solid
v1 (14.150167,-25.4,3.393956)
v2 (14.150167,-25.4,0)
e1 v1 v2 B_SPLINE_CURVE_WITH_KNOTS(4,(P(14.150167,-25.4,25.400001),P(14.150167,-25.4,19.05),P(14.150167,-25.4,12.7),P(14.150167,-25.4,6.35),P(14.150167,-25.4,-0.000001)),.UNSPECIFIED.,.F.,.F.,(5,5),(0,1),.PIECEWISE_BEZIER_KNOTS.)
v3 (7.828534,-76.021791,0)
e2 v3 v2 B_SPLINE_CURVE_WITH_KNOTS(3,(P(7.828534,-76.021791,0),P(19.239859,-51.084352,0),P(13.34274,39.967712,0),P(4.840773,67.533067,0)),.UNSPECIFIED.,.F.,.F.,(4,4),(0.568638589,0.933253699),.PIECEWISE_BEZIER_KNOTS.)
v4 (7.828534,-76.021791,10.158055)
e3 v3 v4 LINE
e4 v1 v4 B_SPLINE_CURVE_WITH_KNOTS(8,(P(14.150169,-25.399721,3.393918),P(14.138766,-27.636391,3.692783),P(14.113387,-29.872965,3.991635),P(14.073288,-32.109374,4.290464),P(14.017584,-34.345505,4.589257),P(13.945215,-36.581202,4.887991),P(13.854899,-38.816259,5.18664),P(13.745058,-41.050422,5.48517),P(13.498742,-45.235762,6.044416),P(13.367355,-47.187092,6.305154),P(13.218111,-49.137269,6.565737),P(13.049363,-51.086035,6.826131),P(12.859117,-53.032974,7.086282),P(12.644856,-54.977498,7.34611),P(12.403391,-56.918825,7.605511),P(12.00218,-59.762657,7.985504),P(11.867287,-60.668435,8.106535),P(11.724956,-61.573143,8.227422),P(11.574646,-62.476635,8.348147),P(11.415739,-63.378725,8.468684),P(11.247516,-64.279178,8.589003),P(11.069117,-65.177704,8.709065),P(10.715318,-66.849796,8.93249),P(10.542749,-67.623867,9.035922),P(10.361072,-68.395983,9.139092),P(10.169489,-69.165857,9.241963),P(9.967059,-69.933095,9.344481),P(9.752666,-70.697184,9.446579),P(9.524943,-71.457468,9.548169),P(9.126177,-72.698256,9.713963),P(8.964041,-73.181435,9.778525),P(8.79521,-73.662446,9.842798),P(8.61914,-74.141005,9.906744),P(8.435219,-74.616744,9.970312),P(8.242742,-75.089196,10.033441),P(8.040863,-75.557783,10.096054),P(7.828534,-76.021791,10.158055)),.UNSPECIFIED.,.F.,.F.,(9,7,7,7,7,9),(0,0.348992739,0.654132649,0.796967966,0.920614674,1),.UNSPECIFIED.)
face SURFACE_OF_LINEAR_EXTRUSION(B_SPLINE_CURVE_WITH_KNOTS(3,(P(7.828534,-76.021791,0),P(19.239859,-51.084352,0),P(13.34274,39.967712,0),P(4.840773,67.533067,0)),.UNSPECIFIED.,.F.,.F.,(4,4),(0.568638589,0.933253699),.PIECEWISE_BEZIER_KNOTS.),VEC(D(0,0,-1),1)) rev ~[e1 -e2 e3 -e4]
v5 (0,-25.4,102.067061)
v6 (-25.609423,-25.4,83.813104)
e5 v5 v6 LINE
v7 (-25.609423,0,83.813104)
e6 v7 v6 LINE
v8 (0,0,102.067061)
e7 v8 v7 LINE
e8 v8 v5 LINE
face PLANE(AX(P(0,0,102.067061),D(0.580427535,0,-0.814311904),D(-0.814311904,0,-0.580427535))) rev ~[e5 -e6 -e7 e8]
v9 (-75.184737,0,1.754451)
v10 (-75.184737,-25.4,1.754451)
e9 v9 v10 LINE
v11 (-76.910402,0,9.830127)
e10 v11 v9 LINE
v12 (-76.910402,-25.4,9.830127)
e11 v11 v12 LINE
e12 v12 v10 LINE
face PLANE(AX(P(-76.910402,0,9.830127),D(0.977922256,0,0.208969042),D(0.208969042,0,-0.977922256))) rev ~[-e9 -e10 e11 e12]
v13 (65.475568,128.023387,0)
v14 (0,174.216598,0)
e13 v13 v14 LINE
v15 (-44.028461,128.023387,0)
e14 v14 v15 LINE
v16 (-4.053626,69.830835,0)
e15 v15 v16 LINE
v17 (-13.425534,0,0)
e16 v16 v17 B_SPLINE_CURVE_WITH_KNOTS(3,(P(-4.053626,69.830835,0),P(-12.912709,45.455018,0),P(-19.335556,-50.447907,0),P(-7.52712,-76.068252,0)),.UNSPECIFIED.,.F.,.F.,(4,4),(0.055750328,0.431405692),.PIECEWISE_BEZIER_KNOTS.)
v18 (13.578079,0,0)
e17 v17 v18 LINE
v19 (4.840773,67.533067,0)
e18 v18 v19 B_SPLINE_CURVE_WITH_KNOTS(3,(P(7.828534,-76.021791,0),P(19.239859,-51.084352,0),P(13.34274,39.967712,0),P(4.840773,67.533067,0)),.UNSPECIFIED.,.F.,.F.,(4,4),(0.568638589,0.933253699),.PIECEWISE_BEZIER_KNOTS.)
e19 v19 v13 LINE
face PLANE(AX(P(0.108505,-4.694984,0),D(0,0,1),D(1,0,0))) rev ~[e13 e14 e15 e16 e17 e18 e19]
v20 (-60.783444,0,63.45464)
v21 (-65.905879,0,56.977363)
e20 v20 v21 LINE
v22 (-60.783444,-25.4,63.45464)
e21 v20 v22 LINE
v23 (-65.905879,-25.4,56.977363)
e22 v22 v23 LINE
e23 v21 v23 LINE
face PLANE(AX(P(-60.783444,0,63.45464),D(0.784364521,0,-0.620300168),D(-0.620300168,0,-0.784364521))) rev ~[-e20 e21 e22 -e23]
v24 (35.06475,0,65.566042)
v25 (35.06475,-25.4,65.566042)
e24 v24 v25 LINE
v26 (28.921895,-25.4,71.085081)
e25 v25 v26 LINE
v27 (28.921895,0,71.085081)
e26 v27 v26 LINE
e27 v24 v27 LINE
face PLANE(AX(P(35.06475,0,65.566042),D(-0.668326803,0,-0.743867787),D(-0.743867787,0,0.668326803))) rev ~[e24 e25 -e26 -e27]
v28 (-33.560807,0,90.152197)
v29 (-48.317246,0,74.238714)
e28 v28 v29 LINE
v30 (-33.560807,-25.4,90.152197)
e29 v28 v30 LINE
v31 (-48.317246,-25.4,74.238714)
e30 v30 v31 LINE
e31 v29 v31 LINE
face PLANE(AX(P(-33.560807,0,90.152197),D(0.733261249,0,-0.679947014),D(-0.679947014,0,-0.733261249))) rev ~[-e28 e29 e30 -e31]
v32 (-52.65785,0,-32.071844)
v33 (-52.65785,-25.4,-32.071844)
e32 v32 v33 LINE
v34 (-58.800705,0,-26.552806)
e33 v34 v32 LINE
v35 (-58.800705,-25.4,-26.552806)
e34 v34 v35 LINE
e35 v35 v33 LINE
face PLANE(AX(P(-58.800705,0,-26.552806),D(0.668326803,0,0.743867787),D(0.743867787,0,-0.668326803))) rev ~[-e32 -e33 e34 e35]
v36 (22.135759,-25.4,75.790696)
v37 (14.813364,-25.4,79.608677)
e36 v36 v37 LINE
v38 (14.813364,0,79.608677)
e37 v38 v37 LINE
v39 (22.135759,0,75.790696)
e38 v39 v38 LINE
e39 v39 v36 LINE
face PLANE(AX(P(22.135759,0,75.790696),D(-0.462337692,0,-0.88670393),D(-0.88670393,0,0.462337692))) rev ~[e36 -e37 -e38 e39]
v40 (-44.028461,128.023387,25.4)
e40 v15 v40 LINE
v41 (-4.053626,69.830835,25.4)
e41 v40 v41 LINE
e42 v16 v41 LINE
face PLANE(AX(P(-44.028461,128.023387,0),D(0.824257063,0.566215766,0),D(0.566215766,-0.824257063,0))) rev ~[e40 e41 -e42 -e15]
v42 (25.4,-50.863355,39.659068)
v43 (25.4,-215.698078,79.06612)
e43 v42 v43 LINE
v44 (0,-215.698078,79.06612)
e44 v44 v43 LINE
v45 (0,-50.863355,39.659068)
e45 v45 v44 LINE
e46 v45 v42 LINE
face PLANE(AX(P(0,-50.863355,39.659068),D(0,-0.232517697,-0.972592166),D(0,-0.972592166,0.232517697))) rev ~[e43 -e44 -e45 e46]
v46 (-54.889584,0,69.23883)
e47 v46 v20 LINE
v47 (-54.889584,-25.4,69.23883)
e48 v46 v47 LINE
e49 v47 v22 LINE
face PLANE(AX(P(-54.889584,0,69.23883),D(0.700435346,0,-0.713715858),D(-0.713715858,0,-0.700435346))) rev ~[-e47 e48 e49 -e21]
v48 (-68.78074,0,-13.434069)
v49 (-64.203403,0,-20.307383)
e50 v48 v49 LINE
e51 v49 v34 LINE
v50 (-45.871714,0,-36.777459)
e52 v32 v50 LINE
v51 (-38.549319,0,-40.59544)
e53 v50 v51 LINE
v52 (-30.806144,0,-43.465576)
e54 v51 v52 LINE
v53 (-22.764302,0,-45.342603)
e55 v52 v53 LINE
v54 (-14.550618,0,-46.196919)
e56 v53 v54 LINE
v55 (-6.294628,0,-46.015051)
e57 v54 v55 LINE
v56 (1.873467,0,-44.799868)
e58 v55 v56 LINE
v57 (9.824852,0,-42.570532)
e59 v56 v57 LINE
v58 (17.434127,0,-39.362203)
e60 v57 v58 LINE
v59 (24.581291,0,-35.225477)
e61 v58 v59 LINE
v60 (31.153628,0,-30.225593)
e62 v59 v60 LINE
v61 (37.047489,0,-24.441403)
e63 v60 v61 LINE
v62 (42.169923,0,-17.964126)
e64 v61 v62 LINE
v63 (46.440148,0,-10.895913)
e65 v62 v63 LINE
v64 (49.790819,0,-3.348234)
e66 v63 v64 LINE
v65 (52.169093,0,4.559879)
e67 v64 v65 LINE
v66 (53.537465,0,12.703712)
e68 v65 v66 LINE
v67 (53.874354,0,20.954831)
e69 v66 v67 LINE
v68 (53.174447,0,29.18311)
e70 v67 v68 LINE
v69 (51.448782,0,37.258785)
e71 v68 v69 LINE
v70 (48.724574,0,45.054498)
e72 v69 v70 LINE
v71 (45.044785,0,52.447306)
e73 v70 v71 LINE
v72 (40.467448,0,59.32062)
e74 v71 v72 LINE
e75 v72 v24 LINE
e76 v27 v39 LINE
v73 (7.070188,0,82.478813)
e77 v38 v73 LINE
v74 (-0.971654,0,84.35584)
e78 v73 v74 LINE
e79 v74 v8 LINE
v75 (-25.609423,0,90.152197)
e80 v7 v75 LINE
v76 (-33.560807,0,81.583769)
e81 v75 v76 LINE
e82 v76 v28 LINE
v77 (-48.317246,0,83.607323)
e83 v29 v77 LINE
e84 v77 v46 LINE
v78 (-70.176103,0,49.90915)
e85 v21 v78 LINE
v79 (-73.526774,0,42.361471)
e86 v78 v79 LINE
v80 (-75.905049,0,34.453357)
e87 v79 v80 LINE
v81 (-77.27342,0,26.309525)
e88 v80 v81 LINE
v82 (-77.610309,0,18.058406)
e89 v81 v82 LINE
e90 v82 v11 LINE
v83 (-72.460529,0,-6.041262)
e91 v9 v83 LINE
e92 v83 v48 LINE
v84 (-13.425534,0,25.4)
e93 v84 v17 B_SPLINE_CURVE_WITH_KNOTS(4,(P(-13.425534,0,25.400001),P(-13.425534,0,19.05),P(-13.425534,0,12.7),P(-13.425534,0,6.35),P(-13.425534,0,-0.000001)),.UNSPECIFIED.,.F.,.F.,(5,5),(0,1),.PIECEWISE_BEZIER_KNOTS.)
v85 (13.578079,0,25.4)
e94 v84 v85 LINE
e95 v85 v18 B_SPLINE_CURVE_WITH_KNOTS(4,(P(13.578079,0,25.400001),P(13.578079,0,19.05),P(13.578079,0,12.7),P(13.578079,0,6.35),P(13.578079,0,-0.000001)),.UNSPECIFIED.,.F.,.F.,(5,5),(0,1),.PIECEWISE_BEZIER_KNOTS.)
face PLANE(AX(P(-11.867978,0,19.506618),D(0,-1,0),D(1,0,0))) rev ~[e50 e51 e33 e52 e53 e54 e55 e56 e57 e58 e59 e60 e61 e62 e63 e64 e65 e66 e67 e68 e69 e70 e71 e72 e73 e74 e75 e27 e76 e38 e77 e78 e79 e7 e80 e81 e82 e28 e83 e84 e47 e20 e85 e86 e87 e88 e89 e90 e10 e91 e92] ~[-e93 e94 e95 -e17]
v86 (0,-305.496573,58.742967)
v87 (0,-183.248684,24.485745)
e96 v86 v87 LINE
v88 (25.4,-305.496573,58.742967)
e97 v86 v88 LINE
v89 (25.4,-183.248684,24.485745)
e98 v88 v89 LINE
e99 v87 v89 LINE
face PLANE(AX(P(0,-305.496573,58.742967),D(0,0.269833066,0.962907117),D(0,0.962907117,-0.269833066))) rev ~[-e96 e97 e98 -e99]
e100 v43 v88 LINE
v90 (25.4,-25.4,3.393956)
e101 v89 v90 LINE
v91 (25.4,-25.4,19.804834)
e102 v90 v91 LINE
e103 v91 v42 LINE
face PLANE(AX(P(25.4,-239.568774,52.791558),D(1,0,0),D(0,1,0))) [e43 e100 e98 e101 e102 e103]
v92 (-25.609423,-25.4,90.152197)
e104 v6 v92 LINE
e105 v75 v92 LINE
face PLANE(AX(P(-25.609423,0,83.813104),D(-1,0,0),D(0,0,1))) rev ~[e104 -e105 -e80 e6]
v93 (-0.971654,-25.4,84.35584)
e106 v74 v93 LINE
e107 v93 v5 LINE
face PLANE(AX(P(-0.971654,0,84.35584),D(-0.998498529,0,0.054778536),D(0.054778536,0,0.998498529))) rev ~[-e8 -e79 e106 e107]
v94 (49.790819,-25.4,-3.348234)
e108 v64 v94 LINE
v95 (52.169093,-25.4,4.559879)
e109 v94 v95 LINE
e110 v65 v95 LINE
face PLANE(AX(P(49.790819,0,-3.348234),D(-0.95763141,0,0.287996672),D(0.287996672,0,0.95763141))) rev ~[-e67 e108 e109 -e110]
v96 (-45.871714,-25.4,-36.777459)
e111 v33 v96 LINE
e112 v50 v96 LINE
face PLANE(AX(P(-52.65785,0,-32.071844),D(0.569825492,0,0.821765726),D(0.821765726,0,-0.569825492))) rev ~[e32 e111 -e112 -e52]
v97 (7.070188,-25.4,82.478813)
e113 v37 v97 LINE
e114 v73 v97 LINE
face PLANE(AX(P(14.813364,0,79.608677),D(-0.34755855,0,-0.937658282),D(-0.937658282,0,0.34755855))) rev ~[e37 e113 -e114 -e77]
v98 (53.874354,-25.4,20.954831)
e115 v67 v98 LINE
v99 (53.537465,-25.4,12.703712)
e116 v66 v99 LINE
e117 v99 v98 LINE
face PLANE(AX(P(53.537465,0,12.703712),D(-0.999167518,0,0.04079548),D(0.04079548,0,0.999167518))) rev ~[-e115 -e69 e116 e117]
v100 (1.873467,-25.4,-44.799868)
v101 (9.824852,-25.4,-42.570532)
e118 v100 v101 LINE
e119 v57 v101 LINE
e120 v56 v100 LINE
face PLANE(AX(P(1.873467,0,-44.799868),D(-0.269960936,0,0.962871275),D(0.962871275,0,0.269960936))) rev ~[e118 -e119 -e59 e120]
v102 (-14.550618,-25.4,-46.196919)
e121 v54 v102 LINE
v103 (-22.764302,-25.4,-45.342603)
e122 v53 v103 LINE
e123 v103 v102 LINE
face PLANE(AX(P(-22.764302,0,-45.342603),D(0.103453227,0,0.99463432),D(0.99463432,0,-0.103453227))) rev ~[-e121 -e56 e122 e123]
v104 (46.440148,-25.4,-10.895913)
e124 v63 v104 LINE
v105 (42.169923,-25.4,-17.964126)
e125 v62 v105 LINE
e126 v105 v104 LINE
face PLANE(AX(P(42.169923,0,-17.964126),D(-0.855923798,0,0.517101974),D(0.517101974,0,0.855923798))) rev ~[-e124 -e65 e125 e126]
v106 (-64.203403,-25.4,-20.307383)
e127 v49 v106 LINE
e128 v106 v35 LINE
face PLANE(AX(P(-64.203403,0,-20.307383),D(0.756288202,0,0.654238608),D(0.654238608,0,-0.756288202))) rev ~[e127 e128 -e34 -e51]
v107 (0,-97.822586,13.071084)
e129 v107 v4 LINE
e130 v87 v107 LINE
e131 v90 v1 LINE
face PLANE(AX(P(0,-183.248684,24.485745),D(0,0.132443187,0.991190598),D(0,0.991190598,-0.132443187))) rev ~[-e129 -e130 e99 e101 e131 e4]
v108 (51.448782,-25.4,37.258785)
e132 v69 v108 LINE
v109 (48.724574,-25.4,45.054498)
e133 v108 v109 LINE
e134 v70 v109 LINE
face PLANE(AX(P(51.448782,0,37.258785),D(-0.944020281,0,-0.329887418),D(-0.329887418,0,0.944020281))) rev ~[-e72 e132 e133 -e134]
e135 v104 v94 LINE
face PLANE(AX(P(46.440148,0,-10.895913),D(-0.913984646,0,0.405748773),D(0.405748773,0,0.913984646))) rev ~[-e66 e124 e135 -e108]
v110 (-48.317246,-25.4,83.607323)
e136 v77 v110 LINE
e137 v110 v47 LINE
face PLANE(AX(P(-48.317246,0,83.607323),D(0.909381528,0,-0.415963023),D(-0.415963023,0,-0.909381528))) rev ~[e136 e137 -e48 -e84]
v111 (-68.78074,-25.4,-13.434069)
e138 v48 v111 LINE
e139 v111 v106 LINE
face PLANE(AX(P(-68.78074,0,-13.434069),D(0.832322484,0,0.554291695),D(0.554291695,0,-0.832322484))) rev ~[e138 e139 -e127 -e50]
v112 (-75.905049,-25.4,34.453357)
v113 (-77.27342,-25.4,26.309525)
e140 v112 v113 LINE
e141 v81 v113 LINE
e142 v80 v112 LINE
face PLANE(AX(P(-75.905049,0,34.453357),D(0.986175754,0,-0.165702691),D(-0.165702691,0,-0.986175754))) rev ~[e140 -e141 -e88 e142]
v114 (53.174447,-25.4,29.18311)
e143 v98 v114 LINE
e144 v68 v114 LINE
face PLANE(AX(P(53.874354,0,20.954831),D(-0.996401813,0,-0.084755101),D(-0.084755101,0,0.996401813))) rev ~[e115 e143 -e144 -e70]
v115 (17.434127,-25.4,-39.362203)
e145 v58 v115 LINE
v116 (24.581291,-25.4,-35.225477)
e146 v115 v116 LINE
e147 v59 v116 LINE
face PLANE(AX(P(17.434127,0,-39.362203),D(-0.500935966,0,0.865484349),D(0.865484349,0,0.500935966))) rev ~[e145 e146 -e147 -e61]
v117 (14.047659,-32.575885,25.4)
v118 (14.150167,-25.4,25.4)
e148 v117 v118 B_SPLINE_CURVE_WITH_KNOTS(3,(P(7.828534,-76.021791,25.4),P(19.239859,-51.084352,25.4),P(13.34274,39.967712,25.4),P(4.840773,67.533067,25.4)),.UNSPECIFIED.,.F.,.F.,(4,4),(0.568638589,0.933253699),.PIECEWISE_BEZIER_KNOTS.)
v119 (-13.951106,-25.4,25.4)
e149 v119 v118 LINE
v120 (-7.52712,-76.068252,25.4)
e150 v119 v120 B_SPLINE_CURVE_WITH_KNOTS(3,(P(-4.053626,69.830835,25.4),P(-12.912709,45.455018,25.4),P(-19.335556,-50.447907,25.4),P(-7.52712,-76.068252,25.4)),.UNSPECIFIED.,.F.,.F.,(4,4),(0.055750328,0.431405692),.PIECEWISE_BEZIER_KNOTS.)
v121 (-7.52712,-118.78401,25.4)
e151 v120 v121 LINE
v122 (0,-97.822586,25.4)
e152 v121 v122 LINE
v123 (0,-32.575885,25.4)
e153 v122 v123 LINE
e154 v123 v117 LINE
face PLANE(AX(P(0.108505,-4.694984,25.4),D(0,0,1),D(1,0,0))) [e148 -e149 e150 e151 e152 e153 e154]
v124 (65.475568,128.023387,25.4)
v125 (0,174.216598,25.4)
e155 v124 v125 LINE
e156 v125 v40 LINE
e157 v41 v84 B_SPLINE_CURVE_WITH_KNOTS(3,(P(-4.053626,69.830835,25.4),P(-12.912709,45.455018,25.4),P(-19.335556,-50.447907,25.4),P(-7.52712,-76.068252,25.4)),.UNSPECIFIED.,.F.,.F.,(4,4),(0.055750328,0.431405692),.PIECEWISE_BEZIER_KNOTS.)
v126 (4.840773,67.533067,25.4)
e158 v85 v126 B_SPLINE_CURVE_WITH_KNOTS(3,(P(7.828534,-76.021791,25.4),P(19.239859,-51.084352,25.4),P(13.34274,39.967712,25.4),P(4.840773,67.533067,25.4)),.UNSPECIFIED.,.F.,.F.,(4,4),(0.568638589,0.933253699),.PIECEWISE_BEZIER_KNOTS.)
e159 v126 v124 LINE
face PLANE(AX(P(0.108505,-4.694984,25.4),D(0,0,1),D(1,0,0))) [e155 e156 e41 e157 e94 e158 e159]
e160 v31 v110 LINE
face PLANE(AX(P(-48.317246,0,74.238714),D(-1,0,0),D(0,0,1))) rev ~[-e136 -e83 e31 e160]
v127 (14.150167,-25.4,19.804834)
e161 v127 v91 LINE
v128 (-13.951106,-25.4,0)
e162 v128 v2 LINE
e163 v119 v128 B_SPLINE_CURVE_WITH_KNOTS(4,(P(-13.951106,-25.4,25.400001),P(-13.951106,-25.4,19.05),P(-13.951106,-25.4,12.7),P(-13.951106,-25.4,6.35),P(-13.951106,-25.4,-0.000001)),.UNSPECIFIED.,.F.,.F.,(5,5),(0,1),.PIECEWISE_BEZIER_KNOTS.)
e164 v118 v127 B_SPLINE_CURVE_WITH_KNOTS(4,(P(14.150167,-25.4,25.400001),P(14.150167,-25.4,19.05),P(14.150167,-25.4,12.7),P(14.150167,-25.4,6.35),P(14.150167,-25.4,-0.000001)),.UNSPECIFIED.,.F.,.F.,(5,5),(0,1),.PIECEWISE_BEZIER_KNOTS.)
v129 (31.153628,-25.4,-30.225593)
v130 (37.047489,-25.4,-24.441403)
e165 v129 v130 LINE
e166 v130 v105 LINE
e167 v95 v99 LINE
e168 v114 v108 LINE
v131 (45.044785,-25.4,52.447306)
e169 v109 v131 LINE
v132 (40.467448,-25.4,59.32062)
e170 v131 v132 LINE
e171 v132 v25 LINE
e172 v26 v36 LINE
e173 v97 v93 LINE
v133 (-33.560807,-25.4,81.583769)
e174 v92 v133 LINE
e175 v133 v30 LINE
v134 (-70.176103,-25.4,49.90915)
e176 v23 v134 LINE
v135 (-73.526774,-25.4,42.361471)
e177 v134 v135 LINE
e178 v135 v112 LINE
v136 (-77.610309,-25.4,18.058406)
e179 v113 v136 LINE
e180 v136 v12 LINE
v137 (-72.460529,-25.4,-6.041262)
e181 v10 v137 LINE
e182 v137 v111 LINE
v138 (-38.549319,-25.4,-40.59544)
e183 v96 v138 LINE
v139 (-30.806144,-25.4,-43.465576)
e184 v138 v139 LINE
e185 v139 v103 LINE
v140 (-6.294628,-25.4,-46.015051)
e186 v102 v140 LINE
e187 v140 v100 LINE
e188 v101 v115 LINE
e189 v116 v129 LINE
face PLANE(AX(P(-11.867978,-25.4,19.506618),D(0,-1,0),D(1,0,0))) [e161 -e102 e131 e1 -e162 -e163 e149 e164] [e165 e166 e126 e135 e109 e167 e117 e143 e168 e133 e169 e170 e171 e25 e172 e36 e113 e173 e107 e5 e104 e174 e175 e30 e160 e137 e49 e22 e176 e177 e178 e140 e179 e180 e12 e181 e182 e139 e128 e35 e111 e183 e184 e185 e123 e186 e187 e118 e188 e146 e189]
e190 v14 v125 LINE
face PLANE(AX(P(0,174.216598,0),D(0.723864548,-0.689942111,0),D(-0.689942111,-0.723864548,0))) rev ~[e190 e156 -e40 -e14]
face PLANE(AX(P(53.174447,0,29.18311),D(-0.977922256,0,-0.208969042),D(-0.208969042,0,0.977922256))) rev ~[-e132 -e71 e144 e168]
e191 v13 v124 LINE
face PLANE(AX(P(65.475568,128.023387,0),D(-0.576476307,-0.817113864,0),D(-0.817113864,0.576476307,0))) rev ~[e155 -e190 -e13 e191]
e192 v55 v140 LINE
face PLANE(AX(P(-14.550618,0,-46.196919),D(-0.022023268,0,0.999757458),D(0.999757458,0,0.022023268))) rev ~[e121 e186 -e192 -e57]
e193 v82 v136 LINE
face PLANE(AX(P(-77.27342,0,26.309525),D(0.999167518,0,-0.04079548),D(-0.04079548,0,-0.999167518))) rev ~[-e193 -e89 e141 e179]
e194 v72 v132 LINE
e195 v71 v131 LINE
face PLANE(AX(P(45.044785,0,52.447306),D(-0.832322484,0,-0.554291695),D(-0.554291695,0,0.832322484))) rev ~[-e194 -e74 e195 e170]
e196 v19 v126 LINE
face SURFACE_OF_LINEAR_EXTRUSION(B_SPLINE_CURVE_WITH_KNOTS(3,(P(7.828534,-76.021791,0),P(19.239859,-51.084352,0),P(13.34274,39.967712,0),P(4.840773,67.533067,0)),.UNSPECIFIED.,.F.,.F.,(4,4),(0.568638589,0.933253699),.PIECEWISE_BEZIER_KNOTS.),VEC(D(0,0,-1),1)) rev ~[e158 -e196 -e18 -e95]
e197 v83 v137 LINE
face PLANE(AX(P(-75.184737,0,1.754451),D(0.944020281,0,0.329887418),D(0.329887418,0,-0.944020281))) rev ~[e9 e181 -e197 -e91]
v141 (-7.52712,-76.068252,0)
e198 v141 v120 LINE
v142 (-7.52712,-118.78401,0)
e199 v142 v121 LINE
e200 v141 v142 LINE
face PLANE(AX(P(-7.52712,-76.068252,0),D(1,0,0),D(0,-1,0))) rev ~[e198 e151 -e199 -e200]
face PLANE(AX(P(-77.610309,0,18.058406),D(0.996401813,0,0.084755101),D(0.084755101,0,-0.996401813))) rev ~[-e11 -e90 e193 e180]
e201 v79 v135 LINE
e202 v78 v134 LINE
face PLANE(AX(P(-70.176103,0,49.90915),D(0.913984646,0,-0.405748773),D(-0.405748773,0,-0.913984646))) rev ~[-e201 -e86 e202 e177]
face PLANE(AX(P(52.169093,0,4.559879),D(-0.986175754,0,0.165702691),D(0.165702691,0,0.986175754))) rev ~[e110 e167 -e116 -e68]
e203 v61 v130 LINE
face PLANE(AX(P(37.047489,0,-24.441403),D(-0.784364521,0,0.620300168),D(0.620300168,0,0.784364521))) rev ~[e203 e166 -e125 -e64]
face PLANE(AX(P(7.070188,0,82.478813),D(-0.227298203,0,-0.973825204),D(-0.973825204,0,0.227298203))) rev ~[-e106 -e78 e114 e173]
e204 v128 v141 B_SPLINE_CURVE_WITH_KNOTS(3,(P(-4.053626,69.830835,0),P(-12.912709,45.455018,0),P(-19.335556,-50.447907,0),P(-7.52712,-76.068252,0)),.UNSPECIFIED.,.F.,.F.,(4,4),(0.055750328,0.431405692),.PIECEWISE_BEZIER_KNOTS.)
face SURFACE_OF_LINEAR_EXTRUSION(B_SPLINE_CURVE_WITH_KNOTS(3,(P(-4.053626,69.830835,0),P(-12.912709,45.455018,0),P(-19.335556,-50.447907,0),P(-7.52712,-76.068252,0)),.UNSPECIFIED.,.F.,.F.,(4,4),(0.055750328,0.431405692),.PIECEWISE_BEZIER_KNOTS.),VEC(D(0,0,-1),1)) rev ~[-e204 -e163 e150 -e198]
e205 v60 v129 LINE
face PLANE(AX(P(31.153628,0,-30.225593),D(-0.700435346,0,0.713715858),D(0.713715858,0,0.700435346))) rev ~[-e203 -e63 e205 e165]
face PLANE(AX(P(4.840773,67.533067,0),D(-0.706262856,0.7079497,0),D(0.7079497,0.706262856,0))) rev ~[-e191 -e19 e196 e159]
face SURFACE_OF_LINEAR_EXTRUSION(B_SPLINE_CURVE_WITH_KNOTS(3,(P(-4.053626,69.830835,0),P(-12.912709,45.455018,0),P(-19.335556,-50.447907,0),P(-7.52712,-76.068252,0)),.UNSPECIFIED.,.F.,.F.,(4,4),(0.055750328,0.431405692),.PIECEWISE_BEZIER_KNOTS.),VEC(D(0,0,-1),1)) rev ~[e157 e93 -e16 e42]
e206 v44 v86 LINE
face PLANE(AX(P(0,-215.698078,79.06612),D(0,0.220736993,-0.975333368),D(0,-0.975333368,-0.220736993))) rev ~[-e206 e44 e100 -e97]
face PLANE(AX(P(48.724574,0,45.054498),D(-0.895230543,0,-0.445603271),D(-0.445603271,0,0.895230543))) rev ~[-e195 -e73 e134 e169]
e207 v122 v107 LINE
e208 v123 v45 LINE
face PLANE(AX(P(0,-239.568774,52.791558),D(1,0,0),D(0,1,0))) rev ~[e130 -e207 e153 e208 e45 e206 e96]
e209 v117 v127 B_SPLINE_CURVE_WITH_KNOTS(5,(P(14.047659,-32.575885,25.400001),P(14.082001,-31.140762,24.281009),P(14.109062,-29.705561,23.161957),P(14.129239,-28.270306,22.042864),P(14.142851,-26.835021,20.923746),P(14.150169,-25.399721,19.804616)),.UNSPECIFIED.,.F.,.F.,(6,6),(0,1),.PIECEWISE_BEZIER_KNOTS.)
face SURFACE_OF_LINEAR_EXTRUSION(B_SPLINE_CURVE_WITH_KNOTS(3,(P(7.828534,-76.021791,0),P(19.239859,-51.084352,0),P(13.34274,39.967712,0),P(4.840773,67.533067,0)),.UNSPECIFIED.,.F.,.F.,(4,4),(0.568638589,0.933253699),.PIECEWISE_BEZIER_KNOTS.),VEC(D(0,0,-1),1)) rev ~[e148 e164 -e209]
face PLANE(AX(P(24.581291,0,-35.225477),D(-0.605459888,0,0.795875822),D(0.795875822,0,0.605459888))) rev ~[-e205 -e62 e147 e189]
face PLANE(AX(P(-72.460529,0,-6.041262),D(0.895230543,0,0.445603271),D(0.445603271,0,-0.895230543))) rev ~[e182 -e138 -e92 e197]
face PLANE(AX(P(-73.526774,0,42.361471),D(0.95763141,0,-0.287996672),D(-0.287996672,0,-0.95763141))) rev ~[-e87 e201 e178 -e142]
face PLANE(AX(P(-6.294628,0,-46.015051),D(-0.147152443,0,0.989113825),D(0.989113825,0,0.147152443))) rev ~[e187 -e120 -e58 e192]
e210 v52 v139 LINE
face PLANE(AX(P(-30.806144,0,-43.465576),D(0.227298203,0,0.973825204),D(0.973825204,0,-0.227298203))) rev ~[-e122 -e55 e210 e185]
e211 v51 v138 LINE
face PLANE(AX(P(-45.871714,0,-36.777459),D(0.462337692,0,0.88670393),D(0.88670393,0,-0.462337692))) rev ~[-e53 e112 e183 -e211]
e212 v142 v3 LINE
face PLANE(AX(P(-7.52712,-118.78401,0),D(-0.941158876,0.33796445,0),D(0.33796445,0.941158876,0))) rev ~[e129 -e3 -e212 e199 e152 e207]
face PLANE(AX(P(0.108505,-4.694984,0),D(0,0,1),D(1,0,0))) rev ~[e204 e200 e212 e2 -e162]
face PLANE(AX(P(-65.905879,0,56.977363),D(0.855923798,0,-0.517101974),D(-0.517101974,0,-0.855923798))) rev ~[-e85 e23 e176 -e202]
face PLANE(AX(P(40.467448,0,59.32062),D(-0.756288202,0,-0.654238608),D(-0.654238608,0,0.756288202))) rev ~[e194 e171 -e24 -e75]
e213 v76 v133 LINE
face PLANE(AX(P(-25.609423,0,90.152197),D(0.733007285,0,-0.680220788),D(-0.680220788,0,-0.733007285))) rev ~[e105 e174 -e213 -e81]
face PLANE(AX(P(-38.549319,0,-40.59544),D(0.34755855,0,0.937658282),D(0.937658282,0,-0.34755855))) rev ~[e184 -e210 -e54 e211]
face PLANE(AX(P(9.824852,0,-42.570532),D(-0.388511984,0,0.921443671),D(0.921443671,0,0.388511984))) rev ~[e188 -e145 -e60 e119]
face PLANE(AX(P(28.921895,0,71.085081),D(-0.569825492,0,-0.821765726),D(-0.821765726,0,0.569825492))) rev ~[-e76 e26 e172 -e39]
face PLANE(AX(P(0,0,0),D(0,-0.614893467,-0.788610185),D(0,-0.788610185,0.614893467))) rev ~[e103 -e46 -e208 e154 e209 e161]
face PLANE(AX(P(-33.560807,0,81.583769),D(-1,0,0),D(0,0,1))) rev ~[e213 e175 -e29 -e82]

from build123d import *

# Parameters (mm, degrees)
F1_DEPTH = 25.4
F3_DEPTH = 25.4
F5_DEPTH = 25.4


with BuildPart() as f1:
    # F0 (on Top) → F1 (new body)
    with BuildSketch(Plane.XY):
        with BuildLine():
            add(Edge.make_bspline(
                [(4.8407731435, 67.5330671062), (3.2844063816, 72.5791703322), (1.6407490349, 75.497781723), (0, 75.4938647151)],
                knots=[0.9332536986, 0.9332536986, 0.9332536986, 0.9332536986, 1, 1, 1, 1], degree=3))
            add(Edge.make_bspline(
                [(0, 75.4938647151), (-1.3704474219, 75.4905930061), (-2.7388658469, 73.4484060128), (-4.0536261968, 69.8308353891)],
                knots=[0, 0, 0, 0, 0.0557503279, 0.0557503279, 0.0557503279, 0.0557503279], degree=3))
            add(Edge.make_bspline(
                [(-4.0536261968, 69.8308353891), (-12.9127091312, 45.455018016), (-19.3355556664, -50.4479074799), (-7.5271204114, -76.0682523251)],
                knots=[0.0557503279, 0.0557503279, 0.0557503279, 0.0557503279, 0.4314056924, 0.4314056924, 0.4314056924, 0.4314056924], degree=3))
            add(Edge.make_bspline(
                [(-7.5271204114, -76.0682523251), (-3.2133106681, -85.4277729417), (3.5335683384, -85.4076795144), (7.8285336494, -76.0217905045)],
                knots=[0.4314056924, 0.4314056924, 0.4314056924, 0.4314056924, 0.5686385887, 0.5686385887, 0.5686385887, 0.5686385887], degree=3))
            add(Edge.make_bspline(
                [(7.8285336494, -76.0217905045), (19.2398591449, -51.0843517129), (13.3427399346, 39.9677122684), (4.8407731435, 67.5330671062)],
                knots=[0.5686385887, 0.5686385887, 0.5686385887, 0.5686385887, 0.9332536986, 0.9332536986, 0.9332536986, 0.9332536986], degree=3))
        make_face()
        with BuildLine():
            add(Edge.make_bspline(
                [(0, 75.4938647151), (-1.3704474219, 75.4905930061), (-2.7388658469, 73.4484060128), (-4.0536261968, 69.8308353891)],
                knots=[0, 0, 0, 0, 0.0557503279, 0.0557503279, 0.0557503279, 0.0557503279], degree=3))
            add(Edge.make_bspline(
                [(4.8407731435, 67.5330671062), (3.2844063816, 72.5791703322), (1.6407490349, 75.497781723), (0, 75.4938647151)],
                knots=[0.9332536986, 0.9332536986, 0.9332536986, 0.9332536986, 1, 1, 1, 1], degree=3))
            Line((4.8407731435, 67.5330671062), (10.3095113427, 128.0233865251))
            Line((10.3095113427, 128.0233865251), (-4.0536261968, 69.8308353891))
        make_face()
        Polygon((-44.0284609795, 128.0233865251), (-4.0536261968, 69.8308353891), (10.3095113427, 128.0233865251), align=None)
        Polygon((10.3095113427, 128.0233865251), (4.8407731435, 67.5330671062), (65.4755681753, 128.0233865251), align=None)
        with BuildLine():
            add(Edge.make_bspline(
                [(-7.5271204114, -76.0682523251), (-3.2133106681, -85.4277729417), (3.5335683384, -85.4076795144), (7.8285336494, -76.0217905045)],
                knots=[0.4314056924, 0.4314056924, 0.4314056924, 0.4314056924, 0.5686385887, 0.5686385887, 0.5686385887, 0.5686385887], degree=3))
            Line((-7.5271204114, -76.0682523251), (-7.5271204114, -118.7840104103))
            Line((-7.5271204114, -118.7840104103), (7.8285336494, -76.0217905045))
        make_face()
        Polygon((-44.0284609795, 128.0233865251), (10.3095113427, 128.0233865251), (65.4755681753, 128.0233865251), (0, 174.2165982723), align=None)
    extrude(amount=F1_DEPTH)

    # F2 (on Front) → F3 (join)
    with BuildSketch(Plane.XZ):
        Polygon((35.0647498421, 65.5660423193), (28.9218947291, 71.0850805044), (22.1357589616, 75.7906955304), (14.8133639544, 79.6086770372), (7.070188251, 82.4788131758), (-0.9716536423, 84.3558401847), (-9.1853370747, 85.2101562267), (-17.441327352, 85.0282882275), (-25.6094225756, 83.8131043541), (-33.5608070045, 81.583768782), (-41.1700825562, 78.375439465), (-48.3172464097, 74.2387136729), (-54.8895835217, 69.2388300428), (-60.7834442096, 63.4546397261), (-65.9058787697, 56.9773628595), (-70.1761033488, 49.9091499686), (-73.5267739546, 42.3614709929), (-75.9050485099, 34.4533573387), (-77.2734202043, 26.3095246824), (-77.6103089988, 18.0584061299), (-76.9104019558, 9.8301267496), (-75.1847370275, 1.7544514229), (-72.4605289807, -6.0412616263), (-68.7807402035, -13.4340693463), (-64.2034031634, -20.307382743), (-58.8007051997, -26.5528055582), (-52.6578500867, -32.0718437433), (-45.8717143191, -36.7774587693), (-38.5493193119, -40.5954402761), (-30.8061436085, -43.4655764147), (-22.7643017153, -45.3426034236), (-14.5506182828, -46.1969194657), (-6.2946280055, -46.0150514664), (1.8734672181, -44.799867593), (9.8248516469, -42.5705320209), (17.4341271986, -39.3622027039), (24.5812910522, -35.2254769118), (31.1536281641, -30.2255932817), (37.047488852, -24.441402965), (42.1699234121, -17.9641260984), (46.4401479913, -10.8959132075), (49.790818597, -3.3482342318), (52.1690931524, 4.5598794223), (53.5374648468, 12.7037120787), (53.8743536413, 20.9548306312), (53.1744465983, 29.1831100115), (51.4487816699, 37.2587853382), (48.7245736231, 45.0544983874), (45.044784846, 52.4473061074), (40.4674478058, 59.320619504), align=None)
        Polygon((-9.1853370747, 85.2101562267), (-0.9716536423, 84.3558401847), (0, 102.0670607686), (-25.6094225756, 83.8131043541), (-17.441327352, 85.0282882275), align=None)
        Polygon((-33.5608070045, 81.583768782), (-25.6094225756, 83.8131043541), (-25.6094225756, 90.1521965861), align=None)
        Polygon((-41.1700825562, 78.375439465), (-33.5608070045, 81.583768782), (-33.5608070045, 90.1521965861), (-48.3172464097, 74.2387136729), align=None)
        Polygon((-54.8895835217, 69.2388300428), (-48.3172464097, 74.2387136729), (-48.3172464097, 83.6073234677), align=None)
    extrude(amount=F3_DEPTH)

    # F4 (on Right) → F5 (join)
    with BuildSketch(Plane.YZ):
        Polygon((-305.4965734482, 58.7429665029), (-183.2486838102, 24.4857445359), (-215.6980782747, 79.0661200881), align=None)
        Polygon((-215.6980782747, 79.0661200881), (-183.2486838102, 24.4857445359), (0, 0), (-50.8633553982, 39.6590679884), align=None)
    extrude(amount=F5_DEPTH)


solid = f1.part
